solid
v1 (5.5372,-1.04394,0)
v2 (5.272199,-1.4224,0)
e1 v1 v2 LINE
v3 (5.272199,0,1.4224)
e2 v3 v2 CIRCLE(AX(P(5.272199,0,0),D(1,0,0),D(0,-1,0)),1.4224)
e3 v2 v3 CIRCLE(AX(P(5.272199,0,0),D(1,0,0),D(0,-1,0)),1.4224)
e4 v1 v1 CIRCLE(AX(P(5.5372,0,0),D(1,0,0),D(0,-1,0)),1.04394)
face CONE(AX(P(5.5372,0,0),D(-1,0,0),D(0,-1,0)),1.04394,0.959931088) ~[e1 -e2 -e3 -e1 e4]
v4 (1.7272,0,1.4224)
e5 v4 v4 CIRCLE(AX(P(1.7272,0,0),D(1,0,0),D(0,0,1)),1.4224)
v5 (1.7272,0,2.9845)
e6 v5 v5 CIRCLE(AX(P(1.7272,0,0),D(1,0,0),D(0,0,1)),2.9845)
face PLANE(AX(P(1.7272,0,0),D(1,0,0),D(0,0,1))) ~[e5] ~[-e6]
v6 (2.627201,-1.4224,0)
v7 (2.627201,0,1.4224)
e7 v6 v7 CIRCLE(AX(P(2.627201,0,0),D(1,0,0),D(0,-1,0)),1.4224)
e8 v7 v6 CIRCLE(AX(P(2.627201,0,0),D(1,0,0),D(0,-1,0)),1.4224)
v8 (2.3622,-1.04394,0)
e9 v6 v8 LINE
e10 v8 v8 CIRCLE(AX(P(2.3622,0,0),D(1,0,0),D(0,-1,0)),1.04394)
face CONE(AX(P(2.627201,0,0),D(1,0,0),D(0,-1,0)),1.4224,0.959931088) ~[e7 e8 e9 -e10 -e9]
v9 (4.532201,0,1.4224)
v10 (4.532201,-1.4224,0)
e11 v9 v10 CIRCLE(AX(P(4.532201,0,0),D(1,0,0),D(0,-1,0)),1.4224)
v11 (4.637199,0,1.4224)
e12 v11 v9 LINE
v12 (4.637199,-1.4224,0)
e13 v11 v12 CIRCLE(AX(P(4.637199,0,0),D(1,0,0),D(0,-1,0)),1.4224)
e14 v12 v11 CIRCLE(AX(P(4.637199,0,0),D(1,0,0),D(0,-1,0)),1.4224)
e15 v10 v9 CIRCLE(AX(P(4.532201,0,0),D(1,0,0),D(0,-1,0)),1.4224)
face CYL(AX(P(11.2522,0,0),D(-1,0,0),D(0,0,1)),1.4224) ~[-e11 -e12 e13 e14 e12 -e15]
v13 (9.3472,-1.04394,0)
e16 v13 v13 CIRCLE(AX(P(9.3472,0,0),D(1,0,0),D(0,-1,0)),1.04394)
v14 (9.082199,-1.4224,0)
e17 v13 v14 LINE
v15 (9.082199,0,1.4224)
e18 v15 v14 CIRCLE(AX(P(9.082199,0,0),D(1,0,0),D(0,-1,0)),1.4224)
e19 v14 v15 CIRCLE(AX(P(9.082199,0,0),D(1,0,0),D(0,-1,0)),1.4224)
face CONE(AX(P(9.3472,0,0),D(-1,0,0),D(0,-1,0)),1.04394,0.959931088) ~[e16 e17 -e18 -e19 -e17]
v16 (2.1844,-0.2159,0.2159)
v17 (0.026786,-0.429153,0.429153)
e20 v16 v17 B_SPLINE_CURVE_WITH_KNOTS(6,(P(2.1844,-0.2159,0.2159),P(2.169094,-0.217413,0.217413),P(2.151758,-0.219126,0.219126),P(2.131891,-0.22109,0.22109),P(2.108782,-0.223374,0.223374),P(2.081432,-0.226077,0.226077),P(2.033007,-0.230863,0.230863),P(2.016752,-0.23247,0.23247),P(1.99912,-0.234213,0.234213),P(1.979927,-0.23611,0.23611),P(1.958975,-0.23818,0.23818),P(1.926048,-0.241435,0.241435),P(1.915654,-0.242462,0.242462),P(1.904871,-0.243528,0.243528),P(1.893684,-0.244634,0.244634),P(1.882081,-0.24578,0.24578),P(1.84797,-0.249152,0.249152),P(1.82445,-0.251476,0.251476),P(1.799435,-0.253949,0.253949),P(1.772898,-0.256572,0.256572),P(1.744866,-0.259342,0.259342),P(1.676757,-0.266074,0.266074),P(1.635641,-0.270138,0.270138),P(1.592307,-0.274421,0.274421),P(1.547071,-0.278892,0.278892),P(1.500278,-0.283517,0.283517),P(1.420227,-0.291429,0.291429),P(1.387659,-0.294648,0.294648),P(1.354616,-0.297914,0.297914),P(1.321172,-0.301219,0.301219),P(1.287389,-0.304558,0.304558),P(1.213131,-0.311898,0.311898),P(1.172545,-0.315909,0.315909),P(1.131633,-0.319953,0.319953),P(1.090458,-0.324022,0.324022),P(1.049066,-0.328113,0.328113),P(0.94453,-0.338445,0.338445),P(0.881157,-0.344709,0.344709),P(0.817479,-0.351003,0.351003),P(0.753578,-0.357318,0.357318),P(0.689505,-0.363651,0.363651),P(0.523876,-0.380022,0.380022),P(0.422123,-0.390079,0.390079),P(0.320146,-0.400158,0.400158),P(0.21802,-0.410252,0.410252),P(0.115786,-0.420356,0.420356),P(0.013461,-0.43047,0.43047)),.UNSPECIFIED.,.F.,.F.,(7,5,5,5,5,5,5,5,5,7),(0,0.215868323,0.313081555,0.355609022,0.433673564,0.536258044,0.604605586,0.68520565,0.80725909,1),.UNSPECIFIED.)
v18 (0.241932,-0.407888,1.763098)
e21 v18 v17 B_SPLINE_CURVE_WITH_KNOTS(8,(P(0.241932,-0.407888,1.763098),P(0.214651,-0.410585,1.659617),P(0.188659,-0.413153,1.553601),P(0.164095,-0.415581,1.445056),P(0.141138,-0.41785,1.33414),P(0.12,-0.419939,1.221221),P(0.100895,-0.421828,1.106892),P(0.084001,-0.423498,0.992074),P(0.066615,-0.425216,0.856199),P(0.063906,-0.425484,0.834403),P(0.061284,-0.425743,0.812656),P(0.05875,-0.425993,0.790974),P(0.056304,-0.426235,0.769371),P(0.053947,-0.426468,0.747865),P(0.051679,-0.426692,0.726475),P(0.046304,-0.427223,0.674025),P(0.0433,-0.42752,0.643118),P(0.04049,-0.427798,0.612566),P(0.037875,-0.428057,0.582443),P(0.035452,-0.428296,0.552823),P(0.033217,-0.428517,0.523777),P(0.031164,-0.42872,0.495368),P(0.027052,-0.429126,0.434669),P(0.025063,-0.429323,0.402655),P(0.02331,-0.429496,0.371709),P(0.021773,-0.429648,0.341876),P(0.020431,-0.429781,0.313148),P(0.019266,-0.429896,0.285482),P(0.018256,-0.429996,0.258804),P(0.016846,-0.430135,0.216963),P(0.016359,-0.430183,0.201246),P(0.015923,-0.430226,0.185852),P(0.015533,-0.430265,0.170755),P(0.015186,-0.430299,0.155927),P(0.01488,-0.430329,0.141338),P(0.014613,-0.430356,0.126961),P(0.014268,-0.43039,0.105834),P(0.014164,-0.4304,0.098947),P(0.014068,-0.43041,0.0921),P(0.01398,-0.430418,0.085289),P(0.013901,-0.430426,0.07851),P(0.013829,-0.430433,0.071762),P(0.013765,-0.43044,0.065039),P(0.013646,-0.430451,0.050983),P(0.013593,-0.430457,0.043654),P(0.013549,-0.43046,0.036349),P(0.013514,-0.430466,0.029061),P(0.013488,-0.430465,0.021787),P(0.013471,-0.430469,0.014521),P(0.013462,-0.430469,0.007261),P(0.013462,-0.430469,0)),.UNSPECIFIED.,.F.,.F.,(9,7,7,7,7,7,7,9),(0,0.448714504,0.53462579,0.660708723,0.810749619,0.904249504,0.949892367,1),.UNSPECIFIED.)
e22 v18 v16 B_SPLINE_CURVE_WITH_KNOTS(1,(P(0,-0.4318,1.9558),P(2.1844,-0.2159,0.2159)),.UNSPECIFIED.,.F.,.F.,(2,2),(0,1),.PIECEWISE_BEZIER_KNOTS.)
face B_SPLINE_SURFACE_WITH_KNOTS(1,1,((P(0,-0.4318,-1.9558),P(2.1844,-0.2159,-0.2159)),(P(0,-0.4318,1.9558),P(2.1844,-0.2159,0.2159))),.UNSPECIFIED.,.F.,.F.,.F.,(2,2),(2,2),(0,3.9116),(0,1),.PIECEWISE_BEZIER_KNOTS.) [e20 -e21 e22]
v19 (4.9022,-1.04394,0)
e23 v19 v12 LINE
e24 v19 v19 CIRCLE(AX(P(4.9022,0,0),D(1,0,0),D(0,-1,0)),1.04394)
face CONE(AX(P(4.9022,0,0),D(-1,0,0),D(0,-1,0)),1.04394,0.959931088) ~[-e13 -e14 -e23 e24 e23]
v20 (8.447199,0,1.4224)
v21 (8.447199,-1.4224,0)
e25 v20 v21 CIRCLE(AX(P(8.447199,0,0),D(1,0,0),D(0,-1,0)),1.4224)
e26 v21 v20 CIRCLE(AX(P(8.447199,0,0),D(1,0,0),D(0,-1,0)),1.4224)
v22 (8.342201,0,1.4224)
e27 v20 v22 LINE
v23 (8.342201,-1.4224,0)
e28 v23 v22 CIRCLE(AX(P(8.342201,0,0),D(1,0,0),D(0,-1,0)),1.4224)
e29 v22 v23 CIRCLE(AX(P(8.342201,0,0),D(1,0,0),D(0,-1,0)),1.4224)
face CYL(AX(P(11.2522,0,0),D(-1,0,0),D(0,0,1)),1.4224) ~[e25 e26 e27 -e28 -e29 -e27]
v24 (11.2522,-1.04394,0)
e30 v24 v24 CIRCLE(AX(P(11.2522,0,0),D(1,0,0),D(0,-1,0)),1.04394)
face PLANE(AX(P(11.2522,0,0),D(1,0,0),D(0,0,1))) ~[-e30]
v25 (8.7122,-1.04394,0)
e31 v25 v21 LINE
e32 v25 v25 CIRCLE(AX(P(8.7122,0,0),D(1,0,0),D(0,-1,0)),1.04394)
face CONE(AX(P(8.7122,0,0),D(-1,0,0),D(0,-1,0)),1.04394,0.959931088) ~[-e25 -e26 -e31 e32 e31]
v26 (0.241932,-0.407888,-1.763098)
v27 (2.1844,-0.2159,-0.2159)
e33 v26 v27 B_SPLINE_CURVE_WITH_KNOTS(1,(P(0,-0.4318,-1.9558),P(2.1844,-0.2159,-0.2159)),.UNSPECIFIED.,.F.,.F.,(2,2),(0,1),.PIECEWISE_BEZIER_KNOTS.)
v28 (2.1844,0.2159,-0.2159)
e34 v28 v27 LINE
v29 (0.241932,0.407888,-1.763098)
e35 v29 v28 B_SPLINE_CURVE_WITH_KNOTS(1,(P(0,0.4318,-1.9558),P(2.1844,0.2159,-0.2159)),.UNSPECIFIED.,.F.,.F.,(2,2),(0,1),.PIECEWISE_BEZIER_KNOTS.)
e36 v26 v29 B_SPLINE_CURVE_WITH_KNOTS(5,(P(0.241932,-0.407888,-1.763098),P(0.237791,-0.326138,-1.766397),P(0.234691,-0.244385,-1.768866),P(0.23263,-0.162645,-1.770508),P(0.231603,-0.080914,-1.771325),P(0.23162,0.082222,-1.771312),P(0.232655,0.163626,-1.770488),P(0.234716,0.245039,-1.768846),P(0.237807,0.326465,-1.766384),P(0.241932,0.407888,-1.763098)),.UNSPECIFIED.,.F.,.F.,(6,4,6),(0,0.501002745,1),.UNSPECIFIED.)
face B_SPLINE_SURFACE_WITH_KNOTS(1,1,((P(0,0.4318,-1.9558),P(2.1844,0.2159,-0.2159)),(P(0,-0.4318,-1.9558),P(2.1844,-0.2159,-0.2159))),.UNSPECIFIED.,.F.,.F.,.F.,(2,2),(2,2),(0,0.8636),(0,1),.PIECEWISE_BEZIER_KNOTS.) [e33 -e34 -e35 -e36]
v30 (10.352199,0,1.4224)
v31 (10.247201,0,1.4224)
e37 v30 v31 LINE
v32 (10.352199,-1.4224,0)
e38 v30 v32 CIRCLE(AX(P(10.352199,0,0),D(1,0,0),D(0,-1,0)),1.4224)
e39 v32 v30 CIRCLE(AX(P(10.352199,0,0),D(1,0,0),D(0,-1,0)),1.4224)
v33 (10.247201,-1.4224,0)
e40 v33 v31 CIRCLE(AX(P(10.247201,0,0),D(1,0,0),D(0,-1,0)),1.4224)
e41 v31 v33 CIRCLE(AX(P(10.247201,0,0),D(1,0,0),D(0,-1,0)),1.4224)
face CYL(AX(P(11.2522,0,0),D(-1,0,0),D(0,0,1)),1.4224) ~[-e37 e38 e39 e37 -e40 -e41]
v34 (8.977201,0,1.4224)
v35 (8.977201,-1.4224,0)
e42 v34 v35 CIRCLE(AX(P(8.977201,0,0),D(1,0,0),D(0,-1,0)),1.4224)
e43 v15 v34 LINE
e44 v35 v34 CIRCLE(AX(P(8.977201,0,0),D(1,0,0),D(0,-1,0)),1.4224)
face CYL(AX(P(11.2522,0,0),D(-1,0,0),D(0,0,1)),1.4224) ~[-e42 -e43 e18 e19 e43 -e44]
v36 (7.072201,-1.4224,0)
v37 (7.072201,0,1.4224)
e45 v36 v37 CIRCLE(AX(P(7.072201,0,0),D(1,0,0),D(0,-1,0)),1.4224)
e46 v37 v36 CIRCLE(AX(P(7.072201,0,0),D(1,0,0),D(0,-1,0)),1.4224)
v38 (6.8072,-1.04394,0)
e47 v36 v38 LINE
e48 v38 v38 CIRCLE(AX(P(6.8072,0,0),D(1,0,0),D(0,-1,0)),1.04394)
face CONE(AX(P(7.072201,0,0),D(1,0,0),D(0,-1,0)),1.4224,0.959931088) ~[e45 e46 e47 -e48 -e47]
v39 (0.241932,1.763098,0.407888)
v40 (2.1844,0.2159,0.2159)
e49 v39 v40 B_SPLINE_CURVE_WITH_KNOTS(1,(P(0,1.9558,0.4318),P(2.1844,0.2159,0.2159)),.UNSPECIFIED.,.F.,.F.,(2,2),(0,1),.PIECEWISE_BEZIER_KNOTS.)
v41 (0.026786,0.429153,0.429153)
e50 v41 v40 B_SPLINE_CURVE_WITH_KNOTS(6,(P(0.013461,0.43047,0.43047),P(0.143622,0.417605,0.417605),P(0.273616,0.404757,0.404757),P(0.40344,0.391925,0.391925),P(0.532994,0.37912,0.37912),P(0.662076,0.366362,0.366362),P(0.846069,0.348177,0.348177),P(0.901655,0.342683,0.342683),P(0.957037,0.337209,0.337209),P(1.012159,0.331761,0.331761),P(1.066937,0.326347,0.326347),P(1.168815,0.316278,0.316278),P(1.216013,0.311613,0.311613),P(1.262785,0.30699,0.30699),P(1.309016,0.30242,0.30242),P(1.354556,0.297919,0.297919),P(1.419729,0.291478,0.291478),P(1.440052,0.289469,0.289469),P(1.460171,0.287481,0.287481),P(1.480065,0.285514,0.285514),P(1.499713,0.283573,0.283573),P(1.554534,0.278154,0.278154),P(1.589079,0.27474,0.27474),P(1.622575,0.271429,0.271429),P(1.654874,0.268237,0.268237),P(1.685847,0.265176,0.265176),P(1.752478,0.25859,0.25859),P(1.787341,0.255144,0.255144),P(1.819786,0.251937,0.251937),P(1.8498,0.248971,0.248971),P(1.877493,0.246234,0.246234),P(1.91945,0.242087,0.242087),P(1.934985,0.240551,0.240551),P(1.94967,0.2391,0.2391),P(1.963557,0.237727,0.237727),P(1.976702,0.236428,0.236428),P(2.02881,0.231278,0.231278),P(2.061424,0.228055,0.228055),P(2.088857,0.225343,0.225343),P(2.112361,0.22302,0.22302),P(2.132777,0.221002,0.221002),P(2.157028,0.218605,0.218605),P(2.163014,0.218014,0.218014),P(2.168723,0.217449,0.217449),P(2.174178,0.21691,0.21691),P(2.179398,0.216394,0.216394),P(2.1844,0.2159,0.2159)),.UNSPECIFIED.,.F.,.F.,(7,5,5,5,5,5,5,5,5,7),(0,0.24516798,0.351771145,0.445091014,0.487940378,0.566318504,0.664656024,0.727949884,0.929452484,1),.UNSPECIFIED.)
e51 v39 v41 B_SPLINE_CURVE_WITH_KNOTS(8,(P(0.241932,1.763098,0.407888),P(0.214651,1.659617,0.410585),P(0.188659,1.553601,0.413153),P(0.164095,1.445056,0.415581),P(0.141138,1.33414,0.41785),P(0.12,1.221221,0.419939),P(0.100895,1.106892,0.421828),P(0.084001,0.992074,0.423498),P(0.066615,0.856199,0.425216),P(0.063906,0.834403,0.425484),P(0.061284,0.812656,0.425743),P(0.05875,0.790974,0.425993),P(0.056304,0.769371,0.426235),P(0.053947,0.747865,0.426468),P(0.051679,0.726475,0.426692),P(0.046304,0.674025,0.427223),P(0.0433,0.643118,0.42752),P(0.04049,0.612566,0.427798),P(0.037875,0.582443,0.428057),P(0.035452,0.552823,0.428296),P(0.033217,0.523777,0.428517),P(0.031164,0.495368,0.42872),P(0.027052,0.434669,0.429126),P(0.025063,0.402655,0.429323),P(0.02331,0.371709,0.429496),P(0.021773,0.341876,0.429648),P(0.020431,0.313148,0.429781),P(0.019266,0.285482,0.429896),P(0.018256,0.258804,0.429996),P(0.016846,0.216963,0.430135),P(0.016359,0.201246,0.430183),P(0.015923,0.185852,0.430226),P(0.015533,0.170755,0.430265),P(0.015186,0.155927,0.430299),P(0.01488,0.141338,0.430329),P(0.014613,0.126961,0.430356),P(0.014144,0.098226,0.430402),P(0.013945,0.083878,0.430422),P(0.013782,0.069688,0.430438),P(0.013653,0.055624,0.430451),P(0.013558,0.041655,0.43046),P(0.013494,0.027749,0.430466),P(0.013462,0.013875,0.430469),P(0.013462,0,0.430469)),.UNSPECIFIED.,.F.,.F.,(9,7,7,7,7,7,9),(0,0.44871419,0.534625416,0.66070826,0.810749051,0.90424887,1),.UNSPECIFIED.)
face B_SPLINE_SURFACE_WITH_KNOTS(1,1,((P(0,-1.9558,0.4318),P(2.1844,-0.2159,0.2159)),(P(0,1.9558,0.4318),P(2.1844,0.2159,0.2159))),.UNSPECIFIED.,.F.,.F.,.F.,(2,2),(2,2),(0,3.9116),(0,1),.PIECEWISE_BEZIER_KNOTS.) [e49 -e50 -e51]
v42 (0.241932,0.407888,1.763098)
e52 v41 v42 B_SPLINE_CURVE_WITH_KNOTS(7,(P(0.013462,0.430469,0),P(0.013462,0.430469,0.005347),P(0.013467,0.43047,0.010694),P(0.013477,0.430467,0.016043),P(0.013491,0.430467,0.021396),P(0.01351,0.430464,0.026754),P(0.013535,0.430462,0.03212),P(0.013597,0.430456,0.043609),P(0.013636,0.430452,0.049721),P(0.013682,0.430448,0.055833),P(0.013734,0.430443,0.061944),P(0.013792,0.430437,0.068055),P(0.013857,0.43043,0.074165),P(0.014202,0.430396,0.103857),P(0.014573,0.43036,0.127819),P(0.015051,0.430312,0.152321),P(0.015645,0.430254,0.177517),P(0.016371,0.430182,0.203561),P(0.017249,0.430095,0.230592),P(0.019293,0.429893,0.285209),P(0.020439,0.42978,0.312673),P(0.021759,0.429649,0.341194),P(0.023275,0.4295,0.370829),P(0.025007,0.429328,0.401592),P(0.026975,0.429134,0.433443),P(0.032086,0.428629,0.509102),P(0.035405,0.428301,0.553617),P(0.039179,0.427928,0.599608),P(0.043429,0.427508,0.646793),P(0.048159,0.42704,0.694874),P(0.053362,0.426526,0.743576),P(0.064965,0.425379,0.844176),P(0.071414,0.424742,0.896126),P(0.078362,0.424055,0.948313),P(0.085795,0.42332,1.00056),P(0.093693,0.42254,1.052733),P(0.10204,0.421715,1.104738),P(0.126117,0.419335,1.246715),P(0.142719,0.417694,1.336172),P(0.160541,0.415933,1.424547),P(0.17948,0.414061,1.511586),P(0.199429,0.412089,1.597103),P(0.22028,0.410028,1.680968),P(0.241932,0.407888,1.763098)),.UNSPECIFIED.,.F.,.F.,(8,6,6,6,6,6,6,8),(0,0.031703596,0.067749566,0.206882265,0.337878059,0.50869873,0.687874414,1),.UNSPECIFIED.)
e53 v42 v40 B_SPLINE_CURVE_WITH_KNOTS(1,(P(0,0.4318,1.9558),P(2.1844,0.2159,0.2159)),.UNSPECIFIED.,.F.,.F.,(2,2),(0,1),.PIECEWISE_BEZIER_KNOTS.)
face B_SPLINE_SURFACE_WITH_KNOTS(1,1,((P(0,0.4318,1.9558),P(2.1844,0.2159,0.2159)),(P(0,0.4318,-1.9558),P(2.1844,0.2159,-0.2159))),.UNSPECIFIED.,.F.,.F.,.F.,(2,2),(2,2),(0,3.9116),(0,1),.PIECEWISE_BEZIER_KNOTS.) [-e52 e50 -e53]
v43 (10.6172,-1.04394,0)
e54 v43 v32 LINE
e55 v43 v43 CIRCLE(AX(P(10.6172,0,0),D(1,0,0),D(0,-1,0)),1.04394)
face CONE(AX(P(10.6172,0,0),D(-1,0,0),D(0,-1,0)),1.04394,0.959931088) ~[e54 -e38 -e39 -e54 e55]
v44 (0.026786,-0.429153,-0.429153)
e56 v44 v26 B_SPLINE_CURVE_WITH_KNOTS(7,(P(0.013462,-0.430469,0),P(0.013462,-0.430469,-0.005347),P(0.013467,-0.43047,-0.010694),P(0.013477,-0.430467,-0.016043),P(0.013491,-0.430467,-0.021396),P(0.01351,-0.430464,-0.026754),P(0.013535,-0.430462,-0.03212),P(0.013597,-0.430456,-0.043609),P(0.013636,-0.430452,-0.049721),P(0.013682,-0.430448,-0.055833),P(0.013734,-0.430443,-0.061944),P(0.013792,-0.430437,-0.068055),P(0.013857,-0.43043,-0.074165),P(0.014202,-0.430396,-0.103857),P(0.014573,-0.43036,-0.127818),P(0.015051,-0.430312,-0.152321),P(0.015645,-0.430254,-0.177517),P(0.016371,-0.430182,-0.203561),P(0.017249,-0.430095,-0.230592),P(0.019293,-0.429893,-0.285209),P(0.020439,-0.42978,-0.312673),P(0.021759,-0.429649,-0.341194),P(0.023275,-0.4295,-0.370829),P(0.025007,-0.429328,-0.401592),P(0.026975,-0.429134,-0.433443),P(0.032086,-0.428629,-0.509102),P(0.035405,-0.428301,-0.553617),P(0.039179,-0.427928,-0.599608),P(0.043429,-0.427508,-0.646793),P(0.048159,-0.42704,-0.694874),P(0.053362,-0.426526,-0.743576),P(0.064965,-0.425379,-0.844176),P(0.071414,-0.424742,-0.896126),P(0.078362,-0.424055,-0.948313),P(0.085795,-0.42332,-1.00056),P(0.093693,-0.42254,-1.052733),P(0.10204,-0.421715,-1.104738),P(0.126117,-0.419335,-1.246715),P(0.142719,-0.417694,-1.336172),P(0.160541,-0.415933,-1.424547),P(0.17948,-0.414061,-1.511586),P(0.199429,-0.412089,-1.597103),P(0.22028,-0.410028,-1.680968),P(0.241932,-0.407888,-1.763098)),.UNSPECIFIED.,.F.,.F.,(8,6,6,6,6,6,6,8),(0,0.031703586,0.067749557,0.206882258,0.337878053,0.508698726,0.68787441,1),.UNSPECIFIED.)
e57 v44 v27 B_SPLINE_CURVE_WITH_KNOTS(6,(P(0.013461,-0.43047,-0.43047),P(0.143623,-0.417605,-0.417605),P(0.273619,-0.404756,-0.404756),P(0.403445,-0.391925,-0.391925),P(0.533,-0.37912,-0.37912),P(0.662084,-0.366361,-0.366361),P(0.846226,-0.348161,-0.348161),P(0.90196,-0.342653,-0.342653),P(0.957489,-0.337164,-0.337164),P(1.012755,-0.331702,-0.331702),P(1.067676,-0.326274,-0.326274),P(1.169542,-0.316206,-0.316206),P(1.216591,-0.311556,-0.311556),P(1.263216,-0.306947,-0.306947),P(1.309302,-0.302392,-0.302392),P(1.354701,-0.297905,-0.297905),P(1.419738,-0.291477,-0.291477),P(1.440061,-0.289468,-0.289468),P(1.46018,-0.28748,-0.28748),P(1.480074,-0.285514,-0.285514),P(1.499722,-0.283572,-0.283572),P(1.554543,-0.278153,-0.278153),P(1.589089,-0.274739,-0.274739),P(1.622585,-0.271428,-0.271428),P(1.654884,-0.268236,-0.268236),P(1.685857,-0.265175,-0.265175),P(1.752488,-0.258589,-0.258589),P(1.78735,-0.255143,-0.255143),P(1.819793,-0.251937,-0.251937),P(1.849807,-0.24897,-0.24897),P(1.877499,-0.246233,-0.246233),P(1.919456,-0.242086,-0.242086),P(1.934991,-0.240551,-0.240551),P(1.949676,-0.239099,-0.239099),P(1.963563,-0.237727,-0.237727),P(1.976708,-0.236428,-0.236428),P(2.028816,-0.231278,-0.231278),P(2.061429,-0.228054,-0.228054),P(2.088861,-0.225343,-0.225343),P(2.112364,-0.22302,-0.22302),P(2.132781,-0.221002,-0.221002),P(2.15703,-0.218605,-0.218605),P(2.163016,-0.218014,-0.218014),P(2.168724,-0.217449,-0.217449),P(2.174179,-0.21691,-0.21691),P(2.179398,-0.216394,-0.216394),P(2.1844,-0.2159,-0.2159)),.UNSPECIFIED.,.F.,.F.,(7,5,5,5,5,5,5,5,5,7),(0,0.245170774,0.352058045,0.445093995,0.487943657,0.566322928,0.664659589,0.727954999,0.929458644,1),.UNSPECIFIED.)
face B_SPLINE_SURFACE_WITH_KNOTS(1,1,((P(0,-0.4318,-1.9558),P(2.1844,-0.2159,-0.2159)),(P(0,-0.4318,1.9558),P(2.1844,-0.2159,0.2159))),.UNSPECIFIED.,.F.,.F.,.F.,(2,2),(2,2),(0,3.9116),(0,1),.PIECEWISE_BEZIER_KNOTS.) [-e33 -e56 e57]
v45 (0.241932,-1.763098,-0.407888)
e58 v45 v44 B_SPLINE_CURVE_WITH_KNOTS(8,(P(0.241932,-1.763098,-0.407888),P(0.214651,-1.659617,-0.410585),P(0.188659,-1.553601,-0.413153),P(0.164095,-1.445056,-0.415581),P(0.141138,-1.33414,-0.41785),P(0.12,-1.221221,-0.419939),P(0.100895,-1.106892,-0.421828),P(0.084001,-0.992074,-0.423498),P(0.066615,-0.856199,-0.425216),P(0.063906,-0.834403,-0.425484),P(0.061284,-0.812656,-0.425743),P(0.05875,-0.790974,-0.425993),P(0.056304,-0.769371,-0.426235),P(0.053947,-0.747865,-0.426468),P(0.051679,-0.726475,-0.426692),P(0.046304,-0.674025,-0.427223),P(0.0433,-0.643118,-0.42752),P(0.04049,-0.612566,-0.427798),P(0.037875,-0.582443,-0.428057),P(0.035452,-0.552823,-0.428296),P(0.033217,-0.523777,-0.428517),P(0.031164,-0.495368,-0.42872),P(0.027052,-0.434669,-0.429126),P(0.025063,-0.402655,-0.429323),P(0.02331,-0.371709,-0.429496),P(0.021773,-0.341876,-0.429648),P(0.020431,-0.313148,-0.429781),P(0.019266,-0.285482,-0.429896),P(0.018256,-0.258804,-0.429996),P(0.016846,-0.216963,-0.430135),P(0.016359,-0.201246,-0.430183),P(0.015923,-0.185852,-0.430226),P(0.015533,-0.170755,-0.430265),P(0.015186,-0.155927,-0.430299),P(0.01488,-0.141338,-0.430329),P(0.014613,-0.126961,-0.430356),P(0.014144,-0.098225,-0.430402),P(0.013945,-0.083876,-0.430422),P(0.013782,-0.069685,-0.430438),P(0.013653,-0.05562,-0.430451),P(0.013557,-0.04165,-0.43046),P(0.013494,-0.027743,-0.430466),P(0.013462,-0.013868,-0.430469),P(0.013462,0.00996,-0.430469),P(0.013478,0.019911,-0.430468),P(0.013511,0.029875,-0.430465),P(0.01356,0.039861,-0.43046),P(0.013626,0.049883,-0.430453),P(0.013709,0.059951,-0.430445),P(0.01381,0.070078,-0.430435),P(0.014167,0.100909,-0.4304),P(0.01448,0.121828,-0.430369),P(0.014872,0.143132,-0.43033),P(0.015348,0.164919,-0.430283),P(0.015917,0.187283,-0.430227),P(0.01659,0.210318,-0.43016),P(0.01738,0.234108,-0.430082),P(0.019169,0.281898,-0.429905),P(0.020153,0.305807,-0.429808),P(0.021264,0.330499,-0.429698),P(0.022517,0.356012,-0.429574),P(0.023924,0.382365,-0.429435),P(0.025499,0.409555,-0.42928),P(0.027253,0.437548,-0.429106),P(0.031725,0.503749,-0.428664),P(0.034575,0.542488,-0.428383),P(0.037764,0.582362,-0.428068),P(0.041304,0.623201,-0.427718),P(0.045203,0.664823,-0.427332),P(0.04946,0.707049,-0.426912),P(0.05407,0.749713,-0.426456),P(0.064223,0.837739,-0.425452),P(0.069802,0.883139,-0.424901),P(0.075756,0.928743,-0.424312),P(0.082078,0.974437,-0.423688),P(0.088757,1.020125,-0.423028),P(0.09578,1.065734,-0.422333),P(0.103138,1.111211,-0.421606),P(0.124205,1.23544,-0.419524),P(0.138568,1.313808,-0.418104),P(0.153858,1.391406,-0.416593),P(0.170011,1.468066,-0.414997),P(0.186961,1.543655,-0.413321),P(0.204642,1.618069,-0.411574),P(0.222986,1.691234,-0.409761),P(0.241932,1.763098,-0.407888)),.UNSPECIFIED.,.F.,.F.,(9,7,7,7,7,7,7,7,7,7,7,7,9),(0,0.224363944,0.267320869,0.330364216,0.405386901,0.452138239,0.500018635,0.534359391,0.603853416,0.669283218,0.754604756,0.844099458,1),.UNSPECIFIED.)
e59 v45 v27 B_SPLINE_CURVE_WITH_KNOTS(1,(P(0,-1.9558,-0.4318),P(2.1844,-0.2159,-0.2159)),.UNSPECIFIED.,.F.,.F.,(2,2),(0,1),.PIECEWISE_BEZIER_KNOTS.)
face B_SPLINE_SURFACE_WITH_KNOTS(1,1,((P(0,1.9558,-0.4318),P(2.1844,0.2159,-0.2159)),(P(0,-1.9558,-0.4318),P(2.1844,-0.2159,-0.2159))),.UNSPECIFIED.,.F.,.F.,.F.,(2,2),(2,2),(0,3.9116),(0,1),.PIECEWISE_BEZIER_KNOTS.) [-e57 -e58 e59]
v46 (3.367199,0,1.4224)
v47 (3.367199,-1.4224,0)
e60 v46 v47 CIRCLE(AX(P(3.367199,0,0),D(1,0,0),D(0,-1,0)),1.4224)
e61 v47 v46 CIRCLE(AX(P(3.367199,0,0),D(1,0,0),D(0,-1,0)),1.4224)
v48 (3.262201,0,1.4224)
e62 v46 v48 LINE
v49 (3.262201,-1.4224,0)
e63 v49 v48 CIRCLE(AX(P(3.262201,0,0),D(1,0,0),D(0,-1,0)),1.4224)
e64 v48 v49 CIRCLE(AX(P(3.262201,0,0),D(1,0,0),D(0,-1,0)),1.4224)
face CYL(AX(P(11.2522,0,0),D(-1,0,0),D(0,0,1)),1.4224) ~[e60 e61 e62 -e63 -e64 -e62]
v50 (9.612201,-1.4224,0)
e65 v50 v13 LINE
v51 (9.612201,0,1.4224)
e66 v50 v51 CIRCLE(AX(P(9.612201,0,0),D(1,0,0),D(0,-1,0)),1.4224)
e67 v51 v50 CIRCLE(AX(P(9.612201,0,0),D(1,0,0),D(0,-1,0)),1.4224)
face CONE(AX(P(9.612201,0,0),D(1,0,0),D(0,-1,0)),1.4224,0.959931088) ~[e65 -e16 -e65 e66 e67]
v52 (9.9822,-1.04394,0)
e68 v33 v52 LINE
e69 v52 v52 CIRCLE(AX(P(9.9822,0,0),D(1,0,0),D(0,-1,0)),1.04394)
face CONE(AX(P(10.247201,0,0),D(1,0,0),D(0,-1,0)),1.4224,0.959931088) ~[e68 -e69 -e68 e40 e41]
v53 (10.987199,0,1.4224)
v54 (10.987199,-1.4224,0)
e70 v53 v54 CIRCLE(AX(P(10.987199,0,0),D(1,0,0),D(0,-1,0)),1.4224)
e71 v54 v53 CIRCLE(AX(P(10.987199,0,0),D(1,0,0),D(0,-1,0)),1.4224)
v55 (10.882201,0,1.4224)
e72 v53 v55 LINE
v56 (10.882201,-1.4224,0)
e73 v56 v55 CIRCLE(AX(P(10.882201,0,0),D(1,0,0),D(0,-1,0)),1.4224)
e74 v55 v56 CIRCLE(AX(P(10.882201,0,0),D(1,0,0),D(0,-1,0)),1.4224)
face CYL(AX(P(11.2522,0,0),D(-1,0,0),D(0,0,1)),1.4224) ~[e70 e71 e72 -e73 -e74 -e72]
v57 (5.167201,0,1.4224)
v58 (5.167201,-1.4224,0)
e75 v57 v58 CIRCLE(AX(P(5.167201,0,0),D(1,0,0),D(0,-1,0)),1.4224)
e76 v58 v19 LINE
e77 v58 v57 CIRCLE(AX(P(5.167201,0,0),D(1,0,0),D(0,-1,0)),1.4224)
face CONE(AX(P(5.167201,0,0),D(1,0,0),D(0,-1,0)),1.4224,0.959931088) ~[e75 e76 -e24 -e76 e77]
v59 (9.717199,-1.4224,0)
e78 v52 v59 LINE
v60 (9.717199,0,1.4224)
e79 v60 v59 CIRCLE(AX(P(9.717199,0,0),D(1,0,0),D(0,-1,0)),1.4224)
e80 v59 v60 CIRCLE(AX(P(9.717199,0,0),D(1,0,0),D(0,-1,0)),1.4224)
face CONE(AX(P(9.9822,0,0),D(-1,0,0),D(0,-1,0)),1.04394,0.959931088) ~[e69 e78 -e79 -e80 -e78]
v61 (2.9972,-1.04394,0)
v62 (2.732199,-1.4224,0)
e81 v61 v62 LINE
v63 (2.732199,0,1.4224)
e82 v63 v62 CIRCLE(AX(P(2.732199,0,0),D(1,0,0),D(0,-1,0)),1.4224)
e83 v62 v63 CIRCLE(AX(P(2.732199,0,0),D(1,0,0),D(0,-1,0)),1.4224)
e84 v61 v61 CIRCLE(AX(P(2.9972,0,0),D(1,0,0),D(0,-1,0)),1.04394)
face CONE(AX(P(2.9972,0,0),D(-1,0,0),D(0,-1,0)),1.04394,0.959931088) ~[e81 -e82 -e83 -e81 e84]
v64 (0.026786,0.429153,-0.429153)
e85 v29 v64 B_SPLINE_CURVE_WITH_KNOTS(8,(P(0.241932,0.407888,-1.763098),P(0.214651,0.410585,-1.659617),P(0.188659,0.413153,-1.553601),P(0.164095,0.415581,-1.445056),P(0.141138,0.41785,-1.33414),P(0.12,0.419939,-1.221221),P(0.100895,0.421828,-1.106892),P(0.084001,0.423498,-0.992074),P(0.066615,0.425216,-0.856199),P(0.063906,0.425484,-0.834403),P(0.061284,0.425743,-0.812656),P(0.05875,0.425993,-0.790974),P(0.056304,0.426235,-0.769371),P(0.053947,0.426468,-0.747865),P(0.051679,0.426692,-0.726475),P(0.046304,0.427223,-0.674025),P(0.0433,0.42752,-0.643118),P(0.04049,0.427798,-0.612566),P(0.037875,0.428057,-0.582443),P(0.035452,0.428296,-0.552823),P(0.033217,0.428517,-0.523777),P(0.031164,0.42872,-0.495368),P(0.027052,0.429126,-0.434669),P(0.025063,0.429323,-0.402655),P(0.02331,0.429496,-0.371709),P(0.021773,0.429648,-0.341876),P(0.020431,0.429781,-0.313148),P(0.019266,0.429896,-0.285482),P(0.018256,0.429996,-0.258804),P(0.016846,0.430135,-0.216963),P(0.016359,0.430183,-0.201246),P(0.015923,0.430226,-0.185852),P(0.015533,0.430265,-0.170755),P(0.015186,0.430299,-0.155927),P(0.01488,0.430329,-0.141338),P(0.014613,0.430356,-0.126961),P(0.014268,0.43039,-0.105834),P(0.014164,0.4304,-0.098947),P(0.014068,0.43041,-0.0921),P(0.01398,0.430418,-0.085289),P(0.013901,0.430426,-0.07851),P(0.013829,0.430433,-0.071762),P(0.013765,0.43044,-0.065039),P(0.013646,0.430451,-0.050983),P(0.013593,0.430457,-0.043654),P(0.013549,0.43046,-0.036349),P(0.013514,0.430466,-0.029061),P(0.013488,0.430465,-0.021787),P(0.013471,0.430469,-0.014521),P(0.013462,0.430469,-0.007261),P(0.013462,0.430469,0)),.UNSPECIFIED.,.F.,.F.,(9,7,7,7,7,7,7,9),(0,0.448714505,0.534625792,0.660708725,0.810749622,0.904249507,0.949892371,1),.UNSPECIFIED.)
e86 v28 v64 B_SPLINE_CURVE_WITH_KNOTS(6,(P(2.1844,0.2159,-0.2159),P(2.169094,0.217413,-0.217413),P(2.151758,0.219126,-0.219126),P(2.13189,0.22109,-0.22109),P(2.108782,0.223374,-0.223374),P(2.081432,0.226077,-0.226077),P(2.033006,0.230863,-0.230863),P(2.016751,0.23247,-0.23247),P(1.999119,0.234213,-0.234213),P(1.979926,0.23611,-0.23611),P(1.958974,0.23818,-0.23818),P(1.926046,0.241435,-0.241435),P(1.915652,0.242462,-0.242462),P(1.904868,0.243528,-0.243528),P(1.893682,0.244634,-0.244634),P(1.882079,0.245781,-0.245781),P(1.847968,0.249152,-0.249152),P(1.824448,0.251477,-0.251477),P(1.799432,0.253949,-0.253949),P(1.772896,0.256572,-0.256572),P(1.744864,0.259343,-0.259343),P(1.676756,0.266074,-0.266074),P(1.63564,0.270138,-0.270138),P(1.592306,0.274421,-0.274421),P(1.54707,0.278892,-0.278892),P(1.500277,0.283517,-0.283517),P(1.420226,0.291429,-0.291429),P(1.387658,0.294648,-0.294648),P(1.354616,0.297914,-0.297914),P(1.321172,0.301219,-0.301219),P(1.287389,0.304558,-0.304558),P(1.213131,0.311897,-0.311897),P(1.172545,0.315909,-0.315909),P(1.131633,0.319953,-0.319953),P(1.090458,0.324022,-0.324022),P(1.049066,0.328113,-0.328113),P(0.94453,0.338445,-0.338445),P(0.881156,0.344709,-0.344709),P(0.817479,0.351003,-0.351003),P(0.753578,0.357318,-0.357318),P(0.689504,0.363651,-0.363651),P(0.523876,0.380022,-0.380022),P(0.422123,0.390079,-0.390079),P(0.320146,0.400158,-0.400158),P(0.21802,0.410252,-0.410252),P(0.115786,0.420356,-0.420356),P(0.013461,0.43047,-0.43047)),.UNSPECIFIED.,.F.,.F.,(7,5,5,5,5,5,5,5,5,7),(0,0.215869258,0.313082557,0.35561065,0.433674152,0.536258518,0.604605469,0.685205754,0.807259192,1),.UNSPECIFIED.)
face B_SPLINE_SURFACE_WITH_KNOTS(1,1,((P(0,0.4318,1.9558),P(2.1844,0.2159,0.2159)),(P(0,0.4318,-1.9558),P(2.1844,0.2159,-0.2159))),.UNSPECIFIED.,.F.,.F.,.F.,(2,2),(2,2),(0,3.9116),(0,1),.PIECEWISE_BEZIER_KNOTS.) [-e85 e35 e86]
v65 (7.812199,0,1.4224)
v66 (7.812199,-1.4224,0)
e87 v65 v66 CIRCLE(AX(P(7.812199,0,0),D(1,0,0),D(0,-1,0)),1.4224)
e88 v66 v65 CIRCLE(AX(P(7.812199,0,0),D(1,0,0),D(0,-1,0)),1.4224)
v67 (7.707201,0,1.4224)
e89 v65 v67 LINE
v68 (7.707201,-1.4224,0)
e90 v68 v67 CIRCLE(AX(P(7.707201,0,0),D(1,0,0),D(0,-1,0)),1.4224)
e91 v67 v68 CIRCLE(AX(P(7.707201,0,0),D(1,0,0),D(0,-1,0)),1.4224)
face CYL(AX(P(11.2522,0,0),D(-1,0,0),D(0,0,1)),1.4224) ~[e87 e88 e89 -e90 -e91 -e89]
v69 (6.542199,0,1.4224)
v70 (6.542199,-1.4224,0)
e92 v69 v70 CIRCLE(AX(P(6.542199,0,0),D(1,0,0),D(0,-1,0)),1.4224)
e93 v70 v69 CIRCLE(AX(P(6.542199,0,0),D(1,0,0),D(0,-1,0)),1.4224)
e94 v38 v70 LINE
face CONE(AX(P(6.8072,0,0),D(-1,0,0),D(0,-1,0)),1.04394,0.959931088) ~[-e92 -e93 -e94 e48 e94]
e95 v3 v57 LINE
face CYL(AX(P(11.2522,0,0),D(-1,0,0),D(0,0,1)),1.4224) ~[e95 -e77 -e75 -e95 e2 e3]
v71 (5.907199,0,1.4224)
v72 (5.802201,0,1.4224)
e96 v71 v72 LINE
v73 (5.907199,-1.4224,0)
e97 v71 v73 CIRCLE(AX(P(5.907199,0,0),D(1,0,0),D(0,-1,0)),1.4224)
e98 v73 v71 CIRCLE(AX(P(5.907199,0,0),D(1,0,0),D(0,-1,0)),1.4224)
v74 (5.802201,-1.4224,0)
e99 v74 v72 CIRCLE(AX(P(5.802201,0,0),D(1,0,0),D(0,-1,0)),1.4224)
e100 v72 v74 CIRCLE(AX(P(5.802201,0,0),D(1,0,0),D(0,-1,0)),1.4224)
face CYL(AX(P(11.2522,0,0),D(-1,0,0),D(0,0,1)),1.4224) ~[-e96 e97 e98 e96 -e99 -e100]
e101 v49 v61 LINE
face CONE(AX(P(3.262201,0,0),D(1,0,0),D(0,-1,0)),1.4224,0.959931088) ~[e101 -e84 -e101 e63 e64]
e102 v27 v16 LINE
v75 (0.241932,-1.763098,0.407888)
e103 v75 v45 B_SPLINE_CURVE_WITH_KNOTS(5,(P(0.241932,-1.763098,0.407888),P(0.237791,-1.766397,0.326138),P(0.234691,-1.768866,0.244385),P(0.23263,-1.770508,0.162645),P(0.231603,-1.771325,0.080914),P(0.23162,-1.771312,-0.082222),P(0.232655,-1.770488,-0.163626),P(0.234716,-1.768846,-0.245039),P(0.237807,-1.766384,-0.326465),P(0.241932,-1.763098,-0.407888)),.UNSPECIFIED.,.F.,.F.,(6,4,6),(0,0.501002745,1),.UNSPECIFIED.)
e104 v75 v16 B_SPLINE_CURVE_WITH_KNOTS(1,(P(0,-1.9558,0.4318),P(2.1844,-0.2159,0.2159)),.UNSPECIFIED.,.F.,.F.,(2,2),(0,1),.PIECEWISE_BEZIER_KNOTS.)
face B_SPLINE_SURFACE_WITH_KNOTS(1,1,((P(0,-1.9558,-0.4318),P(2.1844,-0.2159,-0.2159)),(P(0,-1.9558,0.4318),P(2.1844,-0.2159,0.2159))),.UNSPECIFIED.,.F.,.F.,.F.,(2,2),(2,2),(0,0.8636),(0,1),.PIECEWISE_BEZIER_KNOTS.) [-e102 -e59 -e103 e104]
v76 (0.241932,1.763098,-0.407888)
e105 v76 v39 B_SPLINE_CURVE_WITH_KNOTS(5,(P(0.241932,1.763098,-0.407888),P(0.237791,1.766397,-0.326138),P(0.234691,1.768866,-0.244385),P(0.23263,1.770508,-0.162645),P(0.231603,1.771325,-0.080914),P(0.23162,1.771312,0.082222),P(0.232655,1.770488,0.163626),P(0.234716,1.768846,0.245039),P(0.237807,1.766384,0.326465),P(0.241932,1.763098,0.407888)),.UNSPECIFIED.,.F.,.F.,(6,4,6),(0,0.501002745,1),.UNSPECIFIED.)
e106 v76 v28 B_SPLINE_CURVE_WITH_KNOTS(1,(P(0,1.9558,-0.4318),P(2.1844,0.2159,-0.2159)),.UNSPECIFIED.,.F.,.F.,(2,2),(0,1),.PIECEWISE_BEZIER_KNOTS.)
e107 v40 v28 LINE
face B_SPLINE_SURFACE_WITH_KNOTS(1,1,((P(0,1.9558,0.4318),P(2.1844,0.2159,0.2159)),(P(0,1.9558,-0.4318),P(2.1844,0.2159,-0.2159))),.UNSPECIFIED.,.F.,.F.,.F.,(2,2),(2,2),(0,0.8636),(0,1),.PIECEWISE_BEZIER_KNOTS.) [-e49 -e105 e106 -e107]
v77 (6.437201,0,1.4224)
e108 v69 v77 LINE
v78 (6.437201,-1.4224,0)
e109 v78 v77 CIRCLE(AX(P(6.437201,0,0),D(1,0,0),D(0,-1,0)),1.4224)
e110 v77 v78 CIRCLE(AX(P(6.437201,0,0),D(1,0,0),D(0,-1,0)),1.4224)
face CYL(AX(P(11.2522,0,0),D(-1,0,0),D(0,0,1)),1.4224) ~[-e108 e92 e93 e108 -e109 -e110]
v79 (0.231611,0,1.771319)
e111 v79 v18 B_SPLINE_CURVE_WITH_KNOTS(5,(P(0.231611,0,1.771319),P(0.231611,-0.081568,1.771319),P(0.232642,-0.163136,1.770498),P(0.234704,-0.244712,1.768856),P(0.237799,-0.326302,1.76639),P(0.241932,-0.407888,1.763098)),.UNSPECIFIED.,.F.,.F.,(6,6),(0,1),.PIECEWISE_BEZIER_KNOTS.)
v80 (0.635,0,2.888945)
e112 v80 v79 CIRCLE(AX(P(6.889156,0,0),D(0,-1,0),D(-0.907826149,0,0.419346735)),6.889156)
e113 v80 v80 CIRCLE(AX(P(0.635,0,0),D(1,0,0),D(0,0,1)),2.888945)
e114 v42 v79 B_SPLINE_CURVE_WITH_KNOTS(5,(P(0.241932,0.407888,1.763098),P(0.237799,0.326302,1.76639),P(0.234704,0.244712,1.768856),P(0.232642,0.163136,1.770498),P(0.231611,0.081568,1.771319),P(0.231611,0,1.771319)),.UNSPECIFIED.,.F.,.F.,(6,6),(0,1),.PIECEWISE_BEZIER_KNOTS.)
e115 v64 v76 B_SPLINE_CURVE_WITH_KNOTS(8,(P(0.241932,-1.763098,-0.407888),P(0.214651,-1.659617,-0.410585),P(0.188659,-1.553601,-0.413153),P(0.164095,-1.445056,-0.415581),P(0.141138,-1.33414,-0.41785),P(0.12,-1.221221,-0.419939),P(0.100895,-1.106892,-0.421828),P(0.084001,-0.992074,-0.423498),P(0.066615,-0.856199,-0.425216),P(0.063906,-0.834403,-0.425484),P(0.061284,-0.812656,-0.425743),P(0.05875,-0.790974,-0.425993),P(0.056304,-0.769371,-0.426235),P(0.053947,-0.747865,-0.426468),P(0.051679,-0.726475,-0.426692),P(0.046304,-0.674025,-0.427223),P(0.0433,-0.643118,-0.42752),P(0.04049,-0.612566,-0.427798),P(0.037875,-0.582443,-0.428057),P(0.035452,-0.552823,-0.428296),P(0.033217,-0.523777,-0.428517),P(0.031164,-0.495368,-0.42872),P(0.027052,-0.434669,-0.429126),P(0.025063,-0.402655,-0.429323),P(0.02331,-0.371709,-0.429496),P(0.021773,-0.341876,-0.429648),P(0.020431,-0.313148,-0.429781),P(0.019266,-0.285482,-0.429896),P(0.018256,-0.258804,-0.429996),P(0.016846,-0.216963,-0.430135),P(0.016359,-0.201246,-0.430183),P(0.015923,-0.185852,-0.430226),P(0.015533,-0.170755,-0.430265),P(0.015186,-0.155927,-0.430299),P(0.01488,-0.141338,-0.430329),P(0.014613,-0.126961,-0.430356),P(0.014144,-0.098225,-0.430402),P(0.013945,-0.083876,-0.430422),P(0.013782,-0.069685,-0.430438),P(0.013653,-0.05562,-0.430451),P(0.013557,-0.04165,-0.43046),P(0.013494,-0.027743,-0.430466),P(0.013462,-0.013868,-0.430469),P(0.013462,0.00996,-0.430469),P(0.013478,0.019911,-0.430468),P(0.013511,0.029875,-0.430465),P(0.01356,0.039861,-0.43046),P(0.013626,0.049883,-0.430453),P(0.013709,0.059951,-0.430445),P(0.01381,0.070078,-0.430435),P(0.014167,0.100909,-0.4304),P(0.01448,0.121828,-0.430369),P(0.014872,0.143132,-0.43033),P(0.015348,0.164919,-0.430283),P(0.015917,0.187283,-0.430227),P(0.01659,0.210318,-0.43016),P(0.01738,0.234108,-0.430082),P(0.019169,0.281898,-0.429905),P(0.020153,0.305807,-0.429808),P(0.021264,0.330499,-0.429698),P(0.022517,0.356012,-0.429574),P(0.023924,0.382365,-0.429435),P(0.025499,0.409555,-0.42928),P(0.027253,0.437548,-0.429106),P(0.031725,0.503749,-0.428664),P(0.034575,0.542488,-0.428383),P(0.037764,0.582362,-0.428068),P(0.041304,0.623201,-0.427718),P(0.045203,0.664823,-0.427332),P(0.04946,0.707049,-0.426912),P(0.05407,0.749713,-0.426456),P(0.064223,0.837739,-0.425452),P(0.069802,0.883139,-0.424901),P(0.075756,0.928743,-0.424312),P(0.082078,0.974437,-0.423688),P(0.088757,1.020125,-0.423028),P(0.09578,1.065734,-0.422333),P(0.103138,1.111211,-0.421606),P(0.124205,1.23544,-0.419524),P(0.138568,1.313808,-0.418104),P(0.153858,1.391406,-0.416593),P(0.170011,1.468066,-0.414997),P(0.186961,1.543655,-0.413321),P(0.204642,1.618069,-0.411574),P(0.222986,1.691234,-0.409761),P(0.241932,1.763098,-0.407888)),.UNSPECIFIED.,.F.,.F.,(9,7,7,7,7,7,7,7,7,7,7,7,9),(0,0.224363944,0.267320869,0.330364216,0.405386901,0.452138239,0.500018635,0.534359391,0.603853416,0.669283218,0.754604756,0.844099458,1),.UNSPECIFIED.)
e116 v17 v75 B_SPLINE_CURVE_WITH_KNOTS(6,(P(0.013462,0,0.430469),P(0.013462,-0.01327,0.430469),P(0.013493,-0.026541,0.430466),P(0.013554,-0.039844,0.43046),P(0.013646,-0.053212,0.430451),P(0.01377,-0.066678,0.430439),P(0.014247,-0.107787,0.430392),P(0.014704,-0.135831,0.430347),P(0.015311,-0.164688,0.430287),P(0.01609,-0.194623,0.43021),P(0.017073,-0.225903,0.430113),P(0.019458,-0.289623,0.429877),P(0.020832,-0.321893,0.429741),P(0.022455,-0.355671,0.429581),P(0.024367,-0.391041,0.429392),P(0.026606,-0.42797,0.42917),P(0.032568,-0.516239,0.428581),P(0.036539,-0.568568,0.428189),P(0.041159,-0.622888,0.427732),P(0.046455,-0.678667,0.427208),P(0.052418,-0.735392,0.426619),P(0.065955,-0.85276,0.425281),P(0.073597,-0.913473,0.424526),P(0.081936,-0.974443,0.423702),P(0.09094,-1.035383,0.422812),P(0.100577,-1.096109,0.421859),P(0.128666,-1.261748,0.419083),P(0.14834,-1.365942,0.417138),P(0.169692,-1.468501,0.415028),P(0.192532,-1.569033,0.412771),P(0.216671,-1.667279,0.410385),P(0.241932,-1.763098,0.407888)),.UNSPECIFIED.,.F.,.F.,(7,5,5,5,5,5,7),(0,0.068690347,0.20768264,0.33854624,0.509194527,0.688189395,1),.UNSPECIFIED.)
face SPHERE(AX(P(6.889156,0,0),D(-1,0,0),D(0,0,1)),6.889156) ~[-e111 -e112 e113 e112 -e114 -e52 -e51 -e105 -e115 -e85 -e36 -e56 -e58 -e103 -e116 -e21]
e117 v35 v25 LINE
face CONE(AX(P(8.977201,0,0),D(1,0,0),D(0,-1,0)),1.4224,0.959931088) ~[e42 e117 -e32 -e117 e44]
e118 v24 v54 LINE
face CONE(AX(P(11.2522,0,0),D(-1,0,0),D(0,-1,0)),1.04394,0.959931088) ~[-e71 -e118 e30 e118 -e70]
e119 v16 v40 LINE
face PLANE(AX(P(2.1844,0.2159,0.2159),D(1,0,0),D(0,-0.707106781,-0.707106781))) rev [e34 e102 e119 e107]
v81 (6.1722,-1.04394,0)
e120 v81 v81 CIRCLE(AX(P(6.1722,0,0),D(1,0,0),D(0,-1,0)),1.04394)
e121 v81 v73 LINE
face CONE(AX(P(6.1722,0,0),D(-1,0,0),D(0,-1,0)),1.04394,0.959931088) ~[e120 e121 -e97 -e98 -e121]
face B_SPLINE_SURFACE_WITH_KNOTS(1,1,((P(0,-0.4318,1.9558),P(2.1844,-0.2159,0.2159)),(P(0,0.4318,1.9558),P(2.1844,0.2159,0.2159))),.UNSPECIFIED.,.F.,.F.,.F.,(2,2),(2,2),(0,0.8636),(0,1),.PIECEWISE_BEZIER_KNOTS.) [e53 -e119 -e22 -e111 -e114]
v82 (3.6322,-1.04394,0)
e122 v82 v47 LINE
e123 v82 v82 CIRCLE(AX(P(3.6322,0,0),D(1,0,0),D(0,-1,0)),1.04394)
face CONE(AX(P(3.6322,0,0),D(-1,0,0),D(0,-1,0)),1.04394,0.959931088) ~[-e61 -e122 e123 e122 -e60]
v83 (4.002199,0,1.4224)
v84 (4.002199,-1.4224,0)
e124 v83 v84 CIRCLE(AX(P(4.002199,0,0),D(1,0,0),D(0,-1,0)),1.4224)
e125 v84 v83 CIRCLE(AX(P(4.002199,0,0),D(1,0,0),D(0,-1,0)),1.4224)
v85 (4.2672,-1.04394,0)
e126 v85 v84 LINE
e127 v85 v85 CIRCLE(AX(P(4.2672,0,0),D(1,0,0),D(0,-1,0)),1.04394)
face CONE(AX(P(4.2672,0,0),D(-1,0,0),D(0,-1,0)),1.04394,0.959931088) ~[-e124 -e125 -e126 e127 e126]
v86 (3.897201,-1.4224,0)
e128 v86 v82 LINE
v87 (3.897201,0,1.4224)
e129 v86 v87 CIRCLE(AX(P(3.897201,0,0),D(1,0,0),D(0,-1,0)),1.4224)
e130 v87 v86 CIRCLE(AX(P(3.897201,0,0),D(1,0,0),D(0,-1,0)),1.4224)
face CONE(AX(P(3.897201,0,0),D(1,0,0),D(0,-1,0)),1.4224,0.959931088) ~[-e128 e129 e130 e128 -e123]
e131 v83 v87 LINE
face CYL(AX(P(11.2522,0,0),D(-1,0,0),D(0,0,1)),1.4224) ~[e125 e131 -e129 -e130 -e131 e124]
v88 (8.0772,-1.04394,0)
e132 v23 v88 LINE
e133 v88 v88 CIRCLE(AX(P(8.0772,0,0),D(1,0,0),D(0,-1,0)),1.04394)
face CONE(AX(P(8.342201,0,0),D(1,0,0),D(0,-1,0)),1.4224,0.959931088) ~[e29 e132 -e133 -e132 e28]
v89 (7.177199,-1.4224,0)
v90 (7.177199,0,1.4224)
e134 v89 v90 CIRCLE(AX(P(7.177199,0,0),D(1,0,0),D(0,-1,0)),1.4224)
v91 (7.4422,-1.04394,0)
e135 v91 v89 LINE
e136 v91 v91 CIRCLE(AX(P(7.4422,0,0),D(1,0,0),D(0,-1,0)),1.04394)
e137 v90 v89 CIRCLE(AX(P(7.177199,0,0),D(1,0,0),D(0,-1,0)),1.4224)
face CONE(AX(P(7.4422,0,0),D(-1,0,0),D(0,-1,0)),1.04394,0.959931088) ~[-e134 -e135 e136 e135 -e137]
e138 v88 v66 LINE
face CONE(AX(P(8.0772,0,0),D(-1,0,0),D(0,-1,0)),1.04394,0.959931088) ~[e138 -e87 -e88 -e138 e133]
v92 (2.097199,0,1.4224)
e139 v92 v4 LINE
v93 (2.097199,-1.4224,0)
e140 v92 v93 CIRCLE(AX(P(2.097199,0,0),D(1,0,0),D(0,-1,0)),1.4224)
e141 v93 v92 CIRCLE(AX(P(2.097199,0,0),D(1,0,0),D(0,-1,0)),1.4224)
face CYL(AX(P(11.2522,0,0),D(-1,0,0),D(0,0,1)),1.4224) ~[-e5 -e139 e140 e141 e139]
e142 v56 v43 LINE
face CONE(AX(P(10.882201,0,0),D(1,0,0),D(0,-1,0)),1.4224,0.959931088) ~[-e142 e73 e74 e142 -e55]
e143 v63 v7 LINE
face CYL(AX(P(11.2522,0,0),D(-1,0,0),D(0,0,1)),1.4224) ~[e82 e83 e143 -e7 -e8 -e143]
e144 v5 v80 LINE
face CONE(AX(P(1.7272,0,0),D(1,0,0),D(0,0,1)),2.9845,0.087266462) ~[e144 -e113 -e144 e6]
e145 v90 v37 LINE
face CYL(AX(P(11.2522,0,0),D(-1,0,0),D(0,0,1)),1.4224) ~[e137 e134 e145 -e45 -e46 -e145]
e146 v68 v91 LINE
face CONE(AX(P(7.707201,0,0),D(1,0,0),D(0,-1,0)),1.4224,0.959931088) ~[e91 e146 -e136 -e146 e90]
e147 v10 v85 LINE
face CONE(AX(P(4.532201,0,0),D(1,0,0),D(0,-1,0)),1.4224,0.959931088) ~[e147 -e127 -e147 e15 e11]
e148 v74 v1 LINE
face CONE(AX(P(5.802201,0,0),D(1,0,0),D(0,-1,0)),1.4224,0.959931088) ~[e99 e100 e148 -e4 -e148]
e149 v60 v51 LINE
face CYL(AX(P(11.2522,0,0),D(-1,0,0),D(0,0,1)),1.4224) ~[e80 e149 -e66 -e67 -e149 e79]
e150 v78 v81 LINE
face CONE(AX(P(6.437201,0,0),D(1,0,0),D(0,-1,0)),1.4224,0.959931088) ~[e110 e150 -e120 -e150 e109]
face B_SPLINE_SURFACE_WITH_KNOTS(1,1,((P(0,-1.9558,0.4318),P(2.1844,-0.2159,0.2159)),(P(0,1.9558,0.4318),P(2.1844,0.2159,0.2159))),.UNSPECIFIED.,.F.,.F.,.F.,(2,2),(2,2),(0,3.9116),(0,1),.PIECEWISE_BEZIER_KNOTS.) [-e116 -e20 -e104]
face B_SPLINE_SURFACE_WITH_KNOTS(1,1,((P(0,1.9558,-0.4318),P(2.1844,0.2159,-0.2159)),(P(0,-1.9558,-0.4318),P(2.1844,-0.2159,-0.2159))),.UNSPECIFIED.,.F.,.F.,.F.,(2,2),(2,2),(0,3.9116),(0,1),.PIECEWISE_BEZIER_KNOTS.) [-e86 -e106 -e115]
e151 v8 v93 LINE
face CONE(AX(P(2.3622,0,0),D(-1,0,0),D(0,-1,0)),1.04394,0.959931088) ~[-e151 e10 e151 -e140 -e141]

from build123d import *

# Parameters (mm, degrees)
CIRPATTERN1_COUNT = 2
CIRPATTERN1_ANGLE = 90
THDSCHPAT_COUNT   = 15
THDSCHPAT_PITCH   = 0.635


with BuildPart() as part:
    # BodySke → Base-Revolve (revolve)
    with BuildSketch(Plane.XY, mode=Mode.PRIVATE) as base_revolve_sk:
        with BuildLine():
            Line((1.7272, 1.4224), (1.7272, 2.9845))
            Line((1.7272, 2.9845), (0.635, 2.888944882))
            ThreePointArc((0.635, 2.888944882), (0.160622478, 1.478954659), (0, 0))
            Line((0, 0), (11.2522, 0))
            Line((11.2522, 0), (11.2522, 1.4224))
            Line((11.2522, 1.4224), (1.7272, 1.4224))
        make_face()
    revolve(base_revolve_sk.sketch.rotate(Axis((-25.4, 0, 0), (1, 0, 0)), 90), axis=Axis((-25.4, 0, 0), (1, 0, 0)))

    # Sketch3 → Cross section 0
    with BuildSketch(Plane(origin=(0, 0, 0), x_dir=(0, 0, -1), z_dir=(1, 0, 0))):
        with BuildLine():
            Line((-0.4318, 1.9558), (0.4318, 1.9558))
            Line((0.4318, 1.9558), (0.4318, -1.9558))
            Line((0.4318, -1.9558), (-0.4318, -1.9558))
            Line((-0.4318, -1.9558), (-0.4318, 1.9558))
        make_face()
    # Sketch4 → Cross section 1
    with BuildSketch(Plane(origin=(2.1844, 0, 0), x_dir=(0, 0, -1), z_dir=(1, 0, 0))):
        with BuildLine():
            Line((-0.2159, 0.2159), (0.2159, 0.2159))
            Line((0.2159, 0.2159), (0.2159, -0.2159))
            Line((0.2159, -0.2159), (-0.2159, -0.2159))
            Line((-0.2159, -0.2159), (-0.2159, 0.2159))
        make_face()
    cross = loft(mode=Mode.SUBTRACT)

    # CirPattern1: Cross ×2 about axis
    cirpattern1_axis = Axis((0, 0, 0), (1, 0, 0))
    for i in range(1, CIRPATTERN1_COUNT):
        add(cross.rotate(cirpattern1_axis, i * CIRPATTERN1_ANGLE / (CIRPATTERN1_COUNT - 1)), mode=Mode.SUBTRACT)

    # ThdSchSke → ThreadSchematic (revolve, cut)
    with BuildSketch(Plane.XY):
        Polygon((2.3622, -1.04394), (2.097199455, -1.4224), (2.097199455, -1.778), (2.627200545, -1.778), (2.627200545, -1.4224), align=None)
    threadschematic = revolve(axis=Axis((-3.175, 0, 0), (1, 0, 0)), mode=Mode.SUBTRACT)

    # ThdSchPat: ThreadSchematic ×15
    with Locations(*[(i * THDSCHPAT_PITCH, 0, 0) for i in range(1, THDSCHPAT_COUNT)]):
        add(threadschematic, mode=Mode.SUBTRACT)


solid = part.part
